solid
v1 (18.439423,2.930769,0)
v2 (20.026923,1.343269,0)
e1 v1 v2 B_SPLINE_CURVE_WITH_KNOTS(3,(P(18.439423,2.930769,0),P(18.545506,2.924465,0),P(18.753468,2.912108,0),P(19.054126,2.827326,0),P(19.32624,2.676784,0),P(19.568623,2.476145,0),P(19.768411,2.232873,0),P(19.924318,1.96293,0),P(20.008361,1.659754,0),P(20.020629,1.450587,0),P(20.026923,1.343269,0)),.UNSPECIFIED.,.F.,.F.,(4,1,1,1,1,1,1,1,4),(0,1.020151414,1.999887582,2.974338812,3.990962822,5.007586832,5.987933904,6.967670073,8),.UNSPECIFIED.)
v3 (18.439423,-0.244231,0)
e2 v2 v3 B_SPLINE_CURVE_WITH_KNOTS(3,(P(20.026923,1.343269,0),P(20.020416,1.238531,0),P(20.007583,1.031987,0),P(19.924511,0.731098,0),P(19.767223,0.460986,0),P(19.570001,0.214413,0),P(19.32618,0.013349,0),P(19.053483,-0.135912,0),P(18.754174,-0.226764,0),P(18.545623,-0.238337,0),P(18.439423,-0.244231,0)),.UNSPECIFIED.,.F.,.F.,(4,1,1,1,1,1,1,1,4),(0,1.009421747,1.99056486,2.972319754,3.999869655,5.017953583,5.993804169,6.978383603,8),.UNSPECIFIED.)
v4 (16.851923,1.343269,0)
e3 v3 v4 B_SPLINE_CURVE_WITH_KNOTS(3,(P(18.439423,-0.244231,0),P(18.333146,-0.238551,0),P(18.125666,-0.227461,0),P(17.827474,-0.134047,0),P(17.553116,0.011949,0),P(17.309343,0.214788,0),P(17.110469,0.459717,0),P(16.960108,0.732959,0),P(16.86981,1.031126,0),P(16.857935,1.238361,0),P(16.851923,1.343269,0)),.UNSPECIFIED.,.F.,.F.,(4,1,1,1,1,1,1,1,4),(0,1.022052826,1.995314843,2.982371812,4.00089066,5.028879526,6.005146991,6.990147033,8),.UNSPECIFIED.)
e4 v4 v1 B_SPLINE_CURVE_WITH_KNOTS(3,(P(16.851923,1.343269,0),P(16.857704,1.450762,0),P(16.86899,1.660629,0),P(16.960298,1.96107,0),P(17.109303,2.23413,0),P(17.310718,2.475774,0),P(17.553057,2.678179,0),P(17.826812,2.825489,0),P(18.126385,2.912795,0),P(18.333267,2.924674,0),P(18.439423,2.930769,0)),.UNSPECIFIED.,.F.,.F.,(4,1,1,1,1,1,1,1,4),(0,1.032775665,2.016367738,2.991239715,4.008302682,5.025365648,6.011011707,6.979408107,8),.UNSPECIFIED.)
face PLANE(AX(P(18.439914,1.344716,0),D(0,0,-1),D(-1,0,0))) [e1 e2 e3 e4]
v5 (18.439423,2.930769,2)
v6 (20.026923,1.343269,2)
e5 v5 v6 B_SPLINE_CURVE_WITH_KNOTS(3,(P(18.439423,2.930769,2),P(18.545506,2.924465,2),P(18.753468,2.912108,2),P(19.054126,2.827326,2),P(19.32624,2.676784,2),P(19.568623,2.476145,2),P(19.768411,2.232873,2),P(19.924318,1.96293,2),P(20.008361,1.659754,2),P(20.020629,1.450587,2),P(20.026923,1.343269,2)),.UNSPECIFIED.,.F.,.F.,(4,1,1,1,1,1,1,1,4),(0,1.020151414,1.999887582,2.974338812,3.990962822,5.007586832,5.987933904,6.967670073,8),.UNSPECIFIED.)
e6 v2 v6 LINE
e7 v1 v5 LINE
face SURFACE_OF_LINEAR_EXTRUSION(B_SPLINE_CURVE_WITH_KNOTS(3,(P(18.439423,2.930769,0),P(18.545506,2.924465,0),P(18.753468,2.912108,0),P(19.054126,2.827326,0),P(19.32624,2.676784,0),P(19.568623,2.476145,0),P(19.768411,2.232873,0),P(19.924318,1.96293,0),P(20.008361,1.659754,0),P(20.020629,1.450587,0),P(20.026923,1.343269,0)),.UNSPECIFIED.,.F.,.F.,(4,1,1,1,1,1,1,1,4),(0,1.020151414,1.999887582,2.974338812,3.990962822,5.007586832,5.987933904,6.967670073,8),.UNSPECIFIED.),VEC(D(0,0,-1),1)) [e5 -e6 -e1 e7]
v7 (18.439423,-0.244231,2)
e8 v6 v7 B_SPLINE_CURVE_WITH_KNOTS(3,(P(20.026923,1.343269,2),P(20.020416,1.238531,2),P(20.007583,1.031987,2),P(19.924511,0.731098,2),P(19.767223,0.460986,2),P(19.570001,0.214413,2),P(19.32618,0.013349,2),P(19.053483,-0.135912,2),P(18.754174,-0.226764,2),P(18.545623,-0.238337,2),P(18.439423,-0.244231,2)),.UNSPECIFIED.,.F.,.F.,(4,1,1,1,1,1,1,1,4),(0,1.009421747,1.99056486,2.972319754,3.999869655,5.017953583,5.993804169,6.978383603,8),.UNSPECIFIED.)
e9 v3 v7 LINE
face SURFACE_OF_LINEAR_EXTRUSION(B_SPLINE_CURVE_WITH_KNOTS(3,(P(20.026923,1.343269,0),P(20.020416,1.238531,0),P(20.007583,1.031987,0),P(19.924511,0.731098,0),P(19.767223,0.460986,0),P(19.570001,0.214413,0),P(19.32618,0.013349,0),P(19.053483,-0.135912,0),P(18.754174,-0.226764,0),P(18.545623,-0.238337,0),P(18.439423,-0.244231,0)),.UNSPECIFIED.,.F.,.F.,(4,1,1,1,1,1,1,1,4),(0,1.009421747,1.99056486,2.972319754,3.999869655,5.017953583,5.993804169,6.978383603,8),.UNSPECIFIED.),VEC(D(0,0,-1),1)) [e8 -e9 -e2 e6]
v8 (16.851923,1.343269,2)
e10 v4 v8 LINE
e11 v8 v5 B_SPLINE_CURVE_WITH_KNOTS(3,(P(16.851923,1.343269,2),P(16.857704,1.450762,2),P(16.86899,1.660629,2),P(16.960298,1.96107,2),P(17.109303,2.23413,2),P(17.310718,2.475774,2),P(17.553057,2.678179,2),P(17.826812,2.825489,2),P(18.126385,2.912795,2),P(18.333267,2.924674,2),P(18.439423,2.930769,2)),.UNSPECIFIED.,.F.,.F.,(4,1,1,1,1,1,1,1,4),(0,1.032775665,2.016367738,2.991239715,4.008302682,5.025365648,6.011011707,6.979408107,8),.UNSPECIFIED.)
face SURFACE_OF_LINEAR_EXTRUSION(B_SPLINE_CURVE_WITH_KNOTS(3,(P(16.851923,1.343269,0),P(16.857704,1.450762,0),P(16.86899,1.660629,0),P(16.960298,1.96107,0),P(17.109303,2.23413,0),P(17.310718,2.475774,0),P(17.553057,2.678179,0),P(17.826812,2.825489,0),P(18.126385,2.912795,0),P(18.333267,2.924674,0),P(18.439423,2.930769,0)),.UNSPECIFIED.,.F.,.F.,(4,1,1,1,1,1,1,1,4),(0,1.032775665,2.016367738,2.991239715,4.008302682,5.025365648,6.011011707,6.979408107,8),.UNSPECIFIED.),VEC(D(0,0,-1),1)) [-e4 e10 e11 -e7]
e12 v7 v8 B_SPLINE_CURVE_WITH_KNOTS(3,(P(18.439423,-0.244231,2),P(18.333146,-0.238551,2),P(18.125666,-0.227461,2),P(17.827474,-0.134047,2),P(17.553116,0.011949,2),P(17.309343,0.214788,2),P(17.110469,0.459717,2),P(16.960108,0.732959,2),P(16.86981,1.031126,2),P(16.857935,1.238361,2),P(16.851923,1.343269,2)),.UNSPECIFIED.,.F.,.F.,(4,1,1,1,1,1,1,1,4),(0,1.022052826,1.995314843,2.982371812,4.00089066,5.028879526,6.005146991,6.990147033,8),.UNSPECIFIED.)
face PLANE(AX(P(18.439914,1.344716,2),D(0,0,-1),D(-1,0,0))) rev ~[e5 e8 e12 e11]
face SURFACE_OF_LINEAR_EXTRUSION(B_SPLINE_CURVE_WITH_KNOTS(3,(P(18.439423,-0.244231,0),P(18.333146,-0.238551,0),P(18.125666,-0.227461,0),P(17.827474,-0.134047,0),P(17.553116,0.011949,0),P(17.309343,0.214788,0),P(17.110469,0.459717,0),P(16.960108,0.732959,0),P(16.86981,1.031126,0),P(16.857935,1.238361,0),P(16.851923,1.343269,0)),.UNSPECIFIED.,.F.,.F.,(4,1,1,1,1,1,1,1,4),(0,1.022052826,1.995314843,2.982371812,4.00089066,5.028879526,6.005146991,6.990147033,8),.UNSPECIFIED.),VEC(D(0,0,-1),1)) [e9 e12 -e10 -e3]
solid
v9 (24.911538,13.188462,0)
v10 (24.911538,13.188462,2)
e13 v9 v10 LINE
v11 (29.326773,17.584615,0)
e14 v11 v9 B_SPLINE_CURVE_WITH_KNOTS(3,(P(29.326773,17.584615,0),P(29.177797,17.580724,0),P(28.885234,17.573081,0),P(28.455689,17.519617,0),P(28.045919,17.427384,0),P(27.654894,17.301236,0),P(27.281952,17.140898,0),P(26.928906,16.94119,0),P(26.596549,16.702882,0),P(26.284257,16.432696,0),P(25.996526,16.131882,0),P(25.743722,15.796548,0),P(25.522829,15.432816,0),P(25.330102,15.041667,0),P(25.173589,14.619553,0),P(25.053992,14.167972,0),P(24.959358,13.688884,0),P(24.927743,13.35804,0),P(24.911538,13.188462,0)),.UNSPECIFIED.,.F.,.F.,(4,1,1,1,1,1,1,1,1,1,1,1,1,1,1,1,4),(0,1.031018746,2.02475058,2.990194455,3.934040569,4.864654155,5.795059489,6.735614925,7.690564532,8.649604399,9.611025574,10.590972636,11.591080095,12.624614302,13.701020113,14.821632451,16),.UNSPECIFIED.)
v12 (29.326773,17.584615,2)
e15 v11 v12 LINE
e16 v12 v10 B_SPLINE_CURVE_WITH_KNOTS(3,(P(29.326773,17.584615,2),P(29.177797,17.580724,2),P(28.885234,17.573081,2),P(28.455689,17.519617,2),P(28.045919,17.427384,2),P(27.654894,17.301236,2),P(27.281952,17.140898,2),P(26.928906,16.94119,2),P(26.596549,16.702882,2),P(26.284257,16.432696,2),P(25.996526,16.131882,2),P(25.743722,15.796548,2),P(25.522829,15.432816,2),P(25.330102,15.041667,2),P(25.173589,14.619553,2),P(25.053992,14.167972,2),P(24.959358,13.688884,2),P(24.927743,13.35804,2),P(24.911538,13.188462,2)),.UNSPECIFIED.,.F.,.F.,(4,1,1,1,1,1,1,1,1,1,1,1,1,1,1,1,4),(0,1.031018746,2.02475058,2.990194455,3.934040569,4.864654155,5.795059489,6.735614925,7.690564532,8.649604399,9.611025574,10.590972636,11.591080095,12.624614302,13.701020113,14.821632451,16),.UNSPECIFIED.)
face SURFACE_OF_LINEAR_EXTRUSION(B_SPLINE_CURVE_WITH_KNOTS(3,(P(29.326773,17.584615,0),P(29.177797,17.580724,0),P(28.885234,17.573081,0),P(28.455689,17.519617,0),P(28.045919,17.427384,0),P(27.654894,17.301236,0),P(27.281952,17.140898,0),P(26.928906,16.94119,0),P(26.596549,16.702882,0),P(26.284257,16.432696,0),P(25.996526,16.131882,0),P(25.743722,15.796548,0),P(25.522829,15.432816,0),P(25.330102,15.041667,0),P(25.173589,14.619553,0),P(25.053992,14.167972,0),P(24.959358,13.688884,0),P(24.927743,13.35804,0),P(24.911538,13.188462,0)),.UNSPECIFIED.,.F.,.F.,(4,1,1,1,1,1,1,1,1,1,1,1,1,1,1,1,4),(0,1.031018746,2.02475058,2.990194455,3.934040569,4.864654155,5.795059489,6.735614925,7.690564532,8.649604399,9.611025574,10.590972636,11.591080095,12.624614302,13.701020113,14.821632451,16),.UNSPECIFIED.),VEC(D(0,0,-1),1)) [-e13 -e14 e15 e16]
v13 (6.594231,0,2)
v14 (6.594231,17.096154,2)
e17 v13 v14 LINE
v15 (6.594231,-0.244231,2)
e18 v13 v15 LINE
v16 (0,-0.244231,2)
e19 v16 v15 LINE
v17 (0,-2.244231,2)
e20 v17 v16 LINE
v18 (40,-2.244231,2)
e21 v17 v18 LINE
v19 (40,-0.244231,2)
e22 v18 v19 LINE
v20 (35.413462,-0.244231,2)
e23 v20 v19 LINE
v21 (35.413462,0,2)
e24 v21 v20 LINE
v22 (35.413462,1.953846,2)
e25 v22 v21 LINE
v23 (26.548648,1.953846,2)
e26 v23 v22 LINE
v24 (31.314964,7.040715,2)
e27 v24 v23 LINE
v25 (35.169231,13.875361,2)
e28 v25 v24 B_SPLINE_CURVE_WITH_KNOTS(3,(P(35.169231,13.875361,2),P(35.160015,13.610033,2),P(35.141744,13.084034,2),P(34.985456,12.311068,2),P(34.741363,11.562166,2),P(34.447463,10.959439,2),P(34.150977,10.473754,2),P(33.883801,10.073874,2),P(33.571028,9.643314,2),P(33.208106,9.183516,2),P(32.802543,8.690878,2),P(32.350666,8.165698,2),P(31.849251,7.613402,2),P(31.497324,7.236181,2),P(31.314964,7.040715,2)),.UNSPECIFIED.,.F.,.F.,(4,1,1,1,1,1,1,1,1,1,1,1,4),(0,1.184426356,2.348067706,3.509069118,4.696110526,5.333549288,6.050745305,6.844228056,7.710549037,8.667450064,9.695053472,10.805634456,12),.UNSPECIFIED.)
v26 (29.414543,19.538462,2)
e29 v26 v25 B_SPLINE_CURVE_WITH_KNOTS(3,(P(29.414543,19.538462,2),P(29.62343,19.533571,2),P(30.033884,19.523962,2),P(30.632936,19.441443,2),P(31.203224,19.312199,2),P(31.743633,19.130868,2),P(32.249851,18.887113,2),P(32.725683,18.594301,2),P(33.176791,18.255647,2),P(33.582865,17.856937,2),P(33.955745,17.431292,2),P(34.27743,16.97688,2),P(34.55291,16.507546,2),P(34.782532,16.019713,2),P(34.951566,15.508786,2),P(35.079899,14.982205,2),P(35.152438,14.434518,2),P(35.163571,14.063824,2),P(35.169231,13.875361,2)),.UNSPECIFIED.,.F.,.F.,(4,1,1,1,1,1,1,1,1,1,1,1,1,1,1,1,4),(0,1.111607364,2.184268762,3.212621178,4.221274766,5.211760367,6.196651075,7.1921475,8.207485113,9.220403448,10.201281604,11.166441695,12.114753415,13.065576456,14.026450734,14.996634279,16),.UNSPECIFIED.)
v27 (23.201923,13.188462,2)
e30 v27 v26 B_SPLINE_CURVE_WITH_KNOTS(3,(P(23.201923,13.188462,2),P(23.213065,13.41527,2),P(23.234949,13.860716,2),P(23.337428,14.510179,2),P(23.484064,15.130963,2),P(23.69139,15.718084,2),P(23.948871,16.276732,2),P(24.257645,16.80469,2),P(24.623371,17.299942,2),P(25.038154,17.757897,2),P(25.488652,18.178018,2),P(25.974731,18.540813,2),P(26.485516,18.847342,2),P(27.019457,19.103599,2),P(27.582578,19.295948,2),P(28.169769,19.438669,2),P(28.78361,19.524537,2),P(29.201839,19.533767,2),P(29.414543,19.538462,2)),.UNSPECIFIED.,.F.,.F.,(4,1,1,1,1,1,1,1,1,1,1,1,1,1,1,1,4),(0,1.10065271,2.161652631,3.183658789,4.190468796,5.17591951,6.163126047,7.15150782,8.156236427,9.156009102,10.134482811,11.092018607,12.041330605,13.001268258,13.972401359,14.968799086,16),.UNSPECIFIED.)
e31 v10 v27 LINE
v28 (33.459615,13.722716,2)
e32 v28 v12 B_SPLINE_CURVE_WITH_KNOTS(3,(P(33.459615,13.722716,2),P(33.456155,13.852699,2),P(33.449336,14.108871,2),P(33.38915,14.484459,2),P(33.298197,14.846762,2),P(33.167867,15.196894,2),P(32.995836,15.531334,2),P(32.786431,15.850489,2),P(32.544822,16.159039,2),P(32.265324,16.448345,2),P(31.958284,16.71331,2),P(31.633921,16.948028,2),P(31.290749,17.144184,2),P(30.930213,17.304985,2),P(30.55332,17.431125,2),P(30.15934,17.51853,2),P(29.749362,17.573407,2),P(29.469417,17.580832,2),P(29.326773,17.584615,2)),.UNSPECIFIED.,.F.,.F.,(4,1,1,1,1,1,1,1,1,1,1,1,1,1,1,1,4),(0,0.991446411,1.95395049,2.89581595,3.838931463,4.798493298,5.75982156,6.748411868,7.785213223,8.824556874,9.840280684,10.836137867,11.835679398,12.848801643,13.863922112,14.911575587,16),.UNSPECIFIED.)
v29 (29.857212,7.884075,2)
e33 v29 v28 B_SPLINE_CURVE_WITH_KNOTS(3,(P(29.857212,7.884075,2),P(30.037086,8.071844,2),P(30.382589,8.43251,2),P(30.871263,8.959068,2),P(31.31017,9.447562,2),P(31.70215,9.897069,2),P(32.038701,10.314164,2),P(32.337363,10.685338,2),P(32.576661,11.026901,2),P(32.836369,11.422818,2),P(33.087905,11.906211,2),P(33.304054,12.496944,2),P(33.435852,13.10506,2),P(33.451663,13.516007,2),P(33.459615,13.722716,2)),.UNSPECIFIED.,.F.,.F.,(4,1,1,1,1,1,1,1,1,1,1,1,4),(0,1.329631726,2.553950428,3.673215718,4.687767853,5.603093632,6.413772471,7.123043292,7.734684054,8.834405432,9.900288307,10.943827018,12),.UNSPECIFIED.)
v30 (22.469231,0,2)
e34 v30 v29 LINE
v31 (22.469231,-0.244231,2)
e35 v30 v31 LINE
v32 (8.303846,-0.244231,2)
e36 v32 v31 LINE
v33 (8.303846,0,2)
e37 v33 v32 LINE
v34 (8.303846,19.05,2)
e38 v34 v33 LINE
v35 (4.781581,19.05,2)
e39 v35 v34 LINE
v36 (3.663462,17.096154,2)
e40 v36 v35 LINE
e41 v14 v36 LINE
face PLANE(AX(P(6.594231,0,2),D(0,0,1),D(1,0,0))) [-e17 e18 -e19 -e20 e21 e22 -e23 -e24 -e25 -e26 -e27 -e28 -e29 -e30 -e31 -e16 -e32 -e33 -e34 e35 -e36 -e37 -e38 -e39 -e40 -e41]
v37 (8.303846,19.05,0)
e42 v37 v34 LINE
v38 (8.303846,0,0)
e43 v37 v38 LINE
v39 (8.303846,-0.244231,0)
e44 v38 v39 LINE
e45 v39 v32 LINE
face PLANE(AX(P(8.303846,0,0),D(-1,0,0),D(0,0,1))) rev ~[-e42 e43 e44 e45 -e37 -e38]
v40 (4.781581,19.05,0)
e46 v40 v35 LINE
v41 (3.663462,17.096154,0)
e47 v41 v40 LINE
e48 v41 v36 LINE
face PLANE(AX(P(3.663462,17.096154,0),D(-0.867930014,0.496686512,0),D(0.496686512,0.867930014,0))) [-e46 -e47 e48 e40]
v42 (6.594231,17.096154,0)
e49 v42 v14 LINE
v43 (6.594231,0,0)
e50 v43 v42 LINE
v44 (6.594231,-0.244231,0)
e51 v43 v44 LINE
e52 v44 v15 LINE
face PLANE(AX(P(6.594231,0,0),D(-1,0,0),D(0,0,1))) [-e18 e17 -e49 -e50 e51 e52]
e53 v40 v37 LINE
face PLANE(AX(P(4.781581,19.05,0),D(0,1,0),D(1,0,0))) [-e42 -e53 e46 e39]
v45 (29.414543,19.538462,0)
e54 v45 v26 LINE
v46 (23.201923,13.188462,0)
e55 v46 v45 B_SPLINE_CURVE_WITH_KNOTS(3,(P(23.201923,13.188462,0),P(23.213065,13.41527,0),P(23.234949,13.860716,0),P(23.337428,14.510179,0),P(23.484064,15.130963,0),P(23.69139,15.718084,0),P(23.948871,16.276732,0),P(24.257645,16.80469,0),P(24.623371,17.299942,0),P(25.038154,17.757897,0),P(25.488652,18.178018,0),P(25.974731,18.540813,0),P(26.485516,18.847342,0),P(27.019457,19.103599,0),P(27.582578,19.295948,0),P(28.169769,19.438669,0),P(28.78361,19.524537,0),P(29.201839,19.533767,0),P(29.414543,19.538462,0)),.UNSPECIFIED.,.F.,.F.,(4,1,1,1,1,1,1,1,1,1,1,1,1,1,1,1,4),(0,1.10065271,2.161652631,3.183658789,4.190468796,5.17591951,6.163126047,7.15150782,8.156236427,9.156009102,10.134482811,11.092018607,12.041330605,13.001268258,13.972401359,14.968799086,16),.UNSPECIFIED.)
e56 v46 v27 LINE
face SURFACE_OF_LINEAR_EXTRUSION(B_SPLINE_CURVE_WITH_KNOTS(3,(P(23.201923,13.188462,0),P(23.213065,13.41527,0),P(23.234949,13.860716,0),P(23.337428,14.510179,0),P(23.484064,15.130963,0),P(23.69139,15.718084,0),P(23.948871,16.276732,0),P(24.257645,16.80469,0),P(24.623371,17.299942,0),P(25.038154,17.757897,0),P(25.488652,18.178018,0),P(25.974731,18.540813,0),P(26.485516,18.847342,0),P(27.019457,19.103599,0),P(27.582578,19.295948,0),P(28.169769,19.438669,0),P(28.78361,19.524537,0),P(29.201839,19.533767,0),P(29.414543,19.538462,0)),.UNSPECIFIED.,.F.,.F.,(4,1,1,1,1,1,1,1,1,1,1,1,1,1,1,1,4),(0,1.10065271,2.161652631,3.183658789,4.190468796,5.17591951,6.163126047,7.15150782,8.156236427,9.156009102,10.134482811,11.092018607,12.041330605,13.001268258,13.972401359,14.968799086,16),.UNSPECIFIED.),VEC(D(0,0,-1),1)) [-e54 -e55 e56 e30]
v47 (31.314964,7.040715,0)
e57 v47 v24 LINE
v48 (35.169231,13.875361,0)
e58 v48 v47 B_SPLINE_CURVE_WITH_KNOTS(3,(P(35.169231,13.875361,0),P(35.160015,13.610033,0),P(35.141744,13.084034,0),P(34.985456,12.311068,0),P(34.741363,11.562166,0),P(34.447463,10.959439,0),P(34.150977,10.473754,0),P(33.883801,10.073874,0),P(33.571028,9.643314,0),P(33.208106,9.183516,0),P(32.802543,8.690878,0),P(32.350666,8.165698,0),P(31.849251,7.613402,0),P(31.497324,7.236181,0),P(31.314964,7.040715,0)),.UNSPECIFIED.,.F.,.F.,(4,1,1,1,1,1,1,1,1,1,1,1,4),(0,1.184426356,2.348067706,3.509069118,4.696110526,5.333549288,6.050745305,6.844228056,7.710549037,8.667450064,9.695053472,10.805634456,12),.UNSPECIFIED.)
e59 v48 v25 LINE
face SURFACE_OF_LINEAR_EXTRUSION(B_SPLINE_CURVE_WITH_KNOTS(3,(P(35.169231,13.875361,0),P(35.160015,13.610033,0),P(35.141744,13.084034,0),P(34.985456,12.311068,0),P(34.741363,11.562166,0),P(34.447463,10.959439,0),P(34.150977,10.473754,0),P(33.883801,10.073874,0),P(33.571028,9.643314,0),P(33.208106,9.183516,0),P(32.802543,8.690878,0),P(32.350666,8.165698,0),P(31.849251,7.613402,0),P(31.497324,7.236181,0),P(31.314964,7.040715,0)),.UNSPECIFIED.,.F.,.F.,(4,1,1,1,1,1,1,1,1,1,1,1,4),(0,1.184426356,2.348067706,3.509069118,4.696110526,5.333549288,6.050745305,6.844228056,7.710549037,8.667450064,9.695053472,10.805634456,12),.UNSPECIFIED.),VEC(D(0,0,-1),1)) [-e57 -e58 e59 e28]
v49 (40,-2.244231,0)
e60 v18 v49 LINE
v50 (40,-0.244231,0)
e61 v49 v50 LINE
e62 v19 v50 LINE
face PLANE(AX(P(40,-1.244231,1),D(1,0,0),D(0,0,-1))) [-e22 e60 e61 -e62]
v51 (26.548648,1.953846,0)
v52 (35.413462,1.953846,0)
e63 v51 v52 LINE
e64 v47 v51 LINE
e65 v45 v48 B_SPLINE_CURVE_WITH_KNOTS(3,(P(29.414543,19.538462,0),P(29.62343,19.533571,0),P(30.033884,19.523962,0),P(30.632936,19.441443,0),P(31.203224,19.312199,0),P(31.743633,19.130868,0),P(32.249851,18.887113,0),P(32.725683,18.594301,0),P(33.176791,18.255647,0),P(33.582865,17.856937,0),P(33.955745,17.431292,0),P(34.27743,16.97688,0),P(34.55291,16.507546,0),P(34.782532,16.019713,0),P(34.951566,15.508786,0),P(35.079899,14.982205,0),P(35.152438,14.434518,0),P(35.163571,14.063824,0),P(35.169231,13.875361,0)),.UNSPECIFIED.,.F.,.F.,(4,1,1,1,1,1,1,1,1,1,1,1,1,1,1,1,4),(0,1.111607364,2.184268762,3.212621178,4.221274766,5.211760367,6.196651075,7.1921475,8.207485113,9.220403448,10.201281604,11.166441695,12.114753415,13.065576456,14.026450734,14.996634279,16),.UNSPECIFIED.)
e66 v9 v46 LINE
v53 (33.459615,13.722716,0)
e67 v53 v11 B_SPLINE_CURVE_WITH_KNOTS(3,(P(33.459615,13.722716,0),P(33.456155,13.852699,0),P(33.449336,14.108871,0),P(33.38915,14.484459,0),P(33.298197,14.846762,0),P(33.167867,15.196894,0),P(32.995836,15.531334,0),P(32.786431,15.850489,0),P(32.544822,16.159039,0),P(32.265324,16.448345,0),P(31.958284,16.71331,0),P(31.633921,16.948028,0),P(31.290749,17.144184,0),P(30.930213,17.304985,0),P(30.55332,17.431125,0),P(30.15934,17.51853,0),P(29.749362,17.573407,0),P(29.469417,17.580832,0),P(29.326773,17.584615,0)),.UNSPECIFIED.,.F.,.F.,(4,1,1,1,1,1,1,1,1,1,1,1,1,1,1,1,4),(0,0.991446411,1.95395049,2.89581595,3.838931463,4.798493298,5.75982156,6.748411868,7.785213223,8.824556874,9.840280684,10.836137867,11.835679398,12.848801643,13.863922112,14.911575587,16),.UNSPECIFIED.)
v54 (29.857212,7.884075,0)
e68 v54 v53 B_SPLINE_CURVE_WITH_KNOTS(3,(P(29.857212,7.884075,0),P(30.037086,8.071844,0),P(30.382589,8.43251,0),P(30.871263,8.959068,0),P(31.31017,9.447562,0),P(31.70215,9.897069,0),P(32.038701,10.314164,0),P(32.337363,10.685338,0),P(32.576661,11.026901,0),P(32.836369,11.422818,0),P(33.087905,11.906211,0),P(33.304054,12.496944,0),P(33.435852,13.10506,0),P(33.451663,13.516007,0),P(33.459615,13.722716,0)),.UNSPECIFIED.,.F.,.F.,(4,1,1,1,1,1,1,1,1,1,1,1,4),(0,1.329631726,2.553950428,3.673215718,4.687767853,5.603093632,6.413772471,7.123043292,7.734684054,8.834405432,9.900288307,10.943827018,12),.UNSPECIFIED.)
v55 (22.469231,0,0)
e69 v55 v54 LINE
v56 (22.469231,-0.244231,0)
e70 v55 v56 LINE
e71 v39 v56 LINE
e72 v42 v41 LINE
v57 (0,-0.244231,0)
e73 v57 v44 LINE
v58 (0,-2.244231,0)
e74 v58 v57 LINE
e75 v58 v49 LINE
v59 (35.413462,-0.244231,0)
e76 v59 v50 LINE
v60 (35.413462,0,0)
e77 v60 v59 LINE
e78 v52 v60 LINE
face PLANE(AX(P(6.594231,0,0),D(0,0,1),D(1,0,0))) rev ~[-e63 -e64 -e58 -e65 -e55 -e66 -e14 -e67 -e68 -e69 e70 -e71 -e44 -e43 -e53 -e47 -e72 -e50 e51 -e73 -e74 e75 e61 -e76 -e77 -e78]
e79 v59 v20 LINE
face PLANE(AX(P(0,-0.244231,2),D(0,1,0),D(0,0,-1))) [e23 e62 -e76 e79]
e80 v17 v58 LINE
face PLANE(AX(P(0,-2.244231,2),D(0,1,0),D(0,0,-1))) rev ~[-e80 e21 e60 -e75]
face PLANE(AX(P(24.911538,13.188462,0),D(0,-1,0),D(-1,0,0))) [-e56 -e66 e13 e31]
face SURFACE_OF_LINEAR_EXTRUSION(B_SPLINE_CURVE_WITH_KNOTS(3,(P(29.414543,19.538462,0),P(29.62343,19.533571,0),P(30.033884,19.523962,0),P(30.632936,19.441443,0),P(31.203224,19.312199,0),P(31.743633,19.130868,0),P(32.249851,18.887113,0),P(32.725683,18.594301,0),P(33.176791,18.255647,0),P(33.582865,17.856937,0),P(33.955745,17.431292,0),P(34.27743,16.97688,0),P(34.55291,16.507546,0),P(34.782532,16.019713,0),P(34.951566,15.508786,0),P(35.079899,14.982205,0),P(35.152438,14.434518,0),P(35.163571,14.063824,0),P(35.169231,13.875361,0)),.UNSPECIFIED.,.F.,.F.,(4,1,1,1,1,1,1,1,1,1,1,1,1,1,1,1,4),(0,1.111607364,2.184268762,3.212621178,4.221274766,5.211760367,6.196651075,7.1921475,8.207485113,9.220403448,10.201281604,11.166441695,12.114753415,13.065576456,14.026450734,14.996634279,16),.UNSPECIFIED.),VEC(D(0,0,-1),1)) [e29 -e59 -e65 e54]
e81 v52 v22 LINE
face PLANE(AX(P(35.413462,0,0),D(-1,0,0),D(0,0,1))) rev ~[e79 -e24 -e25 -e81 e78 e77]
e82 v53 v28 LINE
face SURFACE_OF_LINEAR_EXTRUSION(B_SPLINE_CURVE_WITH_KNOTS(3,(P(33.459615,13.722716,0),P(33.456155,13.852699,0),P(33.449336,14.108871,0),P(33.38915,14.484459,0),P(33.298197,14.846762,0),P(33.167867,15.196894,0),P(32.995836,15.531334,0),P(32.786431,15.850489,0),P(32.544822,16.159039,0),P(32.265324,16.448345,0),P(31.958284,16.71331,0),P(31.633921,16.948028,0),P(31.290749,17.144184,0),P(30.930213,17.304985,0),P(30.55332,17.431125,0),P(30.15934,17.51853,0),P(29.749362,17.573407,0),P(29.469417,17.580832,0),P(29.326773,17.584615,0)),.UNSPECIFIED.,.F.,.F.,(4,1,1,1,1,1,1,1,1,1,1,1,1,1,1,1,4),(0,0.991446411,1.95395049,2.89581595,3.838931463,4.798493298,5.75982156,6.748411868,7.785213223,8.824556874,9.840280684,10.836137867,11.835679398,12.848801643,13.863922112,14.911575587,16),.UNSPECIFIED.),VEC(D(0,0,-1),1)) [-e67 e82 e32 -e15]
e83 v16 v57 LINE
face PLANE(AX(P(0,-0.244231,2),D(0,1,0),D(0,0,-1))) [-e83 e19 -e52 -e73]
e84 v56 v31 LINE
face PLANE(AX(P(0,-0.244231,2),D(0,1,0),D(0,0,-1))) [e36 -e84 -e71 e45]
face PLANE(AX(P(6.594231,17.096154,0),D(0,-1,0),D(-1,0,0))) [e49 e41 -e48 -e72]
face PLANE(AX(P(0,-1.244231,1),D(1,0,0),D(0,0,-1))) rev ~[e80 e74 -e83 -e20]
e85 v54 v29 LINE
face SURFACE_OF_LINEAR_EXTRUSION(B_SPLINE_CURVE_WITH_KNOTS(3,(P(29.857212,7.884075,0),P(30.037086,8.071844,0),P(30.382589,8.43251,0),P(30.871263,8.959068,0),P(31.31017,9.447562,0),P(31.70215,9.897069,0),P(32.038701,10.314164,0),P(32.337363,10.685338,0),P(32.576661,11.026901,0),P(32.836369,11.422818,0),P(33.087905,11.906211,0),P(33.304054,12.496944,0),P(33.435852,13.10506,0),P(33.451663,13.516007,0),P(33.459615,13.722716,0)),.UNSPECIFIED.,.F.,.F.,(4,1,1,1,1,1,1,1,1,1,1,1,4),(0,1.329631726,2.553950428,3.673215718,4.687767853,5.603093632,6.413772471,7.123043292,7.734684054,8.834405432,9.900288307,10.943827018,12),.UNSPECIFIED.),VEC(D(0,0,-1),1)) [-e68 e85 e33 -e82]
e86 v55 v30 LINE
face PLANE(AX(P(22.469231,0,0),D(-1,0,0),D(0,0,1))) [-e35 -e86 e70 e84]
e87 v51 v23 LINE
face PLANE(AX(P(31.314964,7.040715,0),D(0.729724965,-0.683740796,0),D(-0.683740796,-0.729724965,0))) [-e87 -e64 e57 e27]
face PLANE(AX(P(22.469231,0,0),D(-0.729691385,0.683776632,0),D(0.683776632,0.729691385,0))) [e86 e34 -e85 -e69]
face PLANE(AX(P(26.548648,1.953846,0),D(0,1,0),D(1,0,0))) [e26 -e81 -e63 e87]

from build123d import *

# Parameters (mm, degrees)
RESSALTO_EXTRUS_O1_DEPTH   = 2
RESSALTO_EXTRUS_O1_2_DEPTH = 2
RESSALTO_EXTRUS_O1_3_DEPTH = 2
ESBO_O2_W                  = 2
ESBO_O2_H                  = 2
RESSALTO_EXTRUS_O2_DEPTH   = 40
ESBO_O3_W                  = 1.709615385
ESBO_O3_H                  = 2
ESBO_O3_W_2                = 12.944230769
RESSALTO_EXTRUS_O3_DEPTH   = 0.244230769


with BuildPart() as part:
    # Esboço1 → Ressalto-extrusão1 (new body)
    with BuildSketch(Plane.XY):
        Polygon((4.781580529, 19.05), (8.303846154, 19.05), (8.303846154, 0), (6.594230769, 0), (6.594230769, 17.096153846), (3.663461538, 17.096153846), align=None)
    extrude(amount=RESSALTO_EXTRUS_O1_DEPTH)



with BuildPart() as body_2:
    # Esboço1 → Ressalto-extrus_o1 2 (new body)
    with BuildSketch(Plane.XY):
        with BuildLine():
            add(Edge.make_bspline(
                [(18.439423077, 2.930769231), (18.545505517, 2.924465495), (18.75346774, 2.912107758), (19.054126424, 2.827326148), (19.326240215, 2.67678401), (19.568622862, 2.476145174), (19.76841097, 2.232873064), (19.924318086, 1.962929618), (20.008361163, 1.659753807), (20.020628883, 1.450586576), (20.026923077, 1.343269231)],
                knots=[0, 0, 0, 0, 1.020151414, 1.999887582, 2.974338812, 3.990962822, 5.007586832, 5.987933904, 6.967670073, 8, 8, 8, 8], degree=3))
            add(Edge.make_bspline(
                [(20.026923077, 1.343269231), (20.020415593, 1.238530536), (20.00758293, 1.031987368), (19.924510734, 0.731098264), (19.767222775, 0.460986113), (19.570000885, 0.214413047), (19.326180297, 0.013349165), (19.053483104, -0.135912183), (18.754173542, -0.226764245), (18.545623268, -0.238337376), (18.439423077, -0.244230769)],
                knots=[0, 0, 0, 0, 1.009421747, 1.99056486, 2.972319754, 3.999869655, 5.017953583, 5.993804169, 6.978383603, 8, 8, 8, 8], degree=3))
            add(Edge.make_bspline(
                [(18.439423077, -0.244230769), (18.333146362, -0.238550619), (18.125666375, -0.227461478), (17.827474035, -0.134046775), (17.553116106, 0.011949487), (17.309342989, 0.214787952), (17.110469308, 0.459717304), (16.960108296, 0.73295851), (16.869810485, 1.031126048), (16.857934864, 1.23836089), (16.851923077, 1.343269231)],
                knots=[0, 0, 0, 0, 1.022052826, 1.995314843, 2.982371812, 4.00089066, 5.028879526, 6.005146991, 6.990147033, 8, 8, 8, 8], degree=3))
            add(Edge.make_bspline(
                [(16.851923077, 1.343269231), (16.857703931, 1.450762283), (16.86899034, 1.660629275), (16.960297863, 1.961070131), (17.109302673, 2.234129779), (17.310717752, 2.475774022), (17.553057134, 2.678179198), (17.826812193, 2.825489001), (18.126384548, 2.912794673), (18.333267213, 2.9246738), (18.439423077, 2.930769231)],
                knots=[0, 0, 0, 0, 1.032775665, 2.016367738, 2.991239715, 4.008302682, 5.025365648, 6.011011707, 6.979408107, 8, 8, 8, 8], degree=3))
        make_face()
    extrude(amount=RESSALTO_EXTRUS_O1_2_DEPTH)


with BuildPart() as body_3:
    # Esboço1 → Ressalto-extrus_o1 3 (new body)
    with BuildSketch(Plane.XY):
        with BuildLine():
            Line((24.911538462, 13.188461538), (23.201923077, 13.188461538))
            add(Edge.make_bspline(
                [(23.201923077, 13.188461538), (23.213065438, 13.415270228), (23.234948739, 13.860716457), (23.337428428, 14.510179433), (23.484063774, 15.130963409), (23.691390117, 15.718083941), (23.948871429, 16.276732306), (24.257644863, 16.804689534), (24.623371393, 17.299941576), (25.038153759, 17.75789728), (25.488651638, 18.178018201), (25.974731108, 18.540813165), (26.485516185, 18.847342205), (27.0194572, 19.103598679), (27.582578267, 19.295948411), (28.16976925, 19.43866905), (28.783609978, 19.524537446), (29.201839241, 19.533767365), (29.414543269, 19.538461538)],
                knots=[0, 0, 0, 0, 1.10065271, 2.161652631, 3.183658789, 4.190468796, 5.17591951, 6.163126047, 7.15150782, 8.156236427, 9.156009102, 10.134482811, 11.092018607, 12.041330605, 13.001268258, 13.972401359, 14.968799086, 16, 16, 16, 16], degree=3))
            add(Edge.make_bspline(
                [(29.414543269, 19.538461538), (29.623429644, 19.533571368), (30.033883908, 19.523962359), (30.63293573, 19.441443042), (31.203223575, 19.312199179), (31.743632705, 19.130868128), (32.249851428, 18.887112887), (32.72568257, 18.59430057), (33.176790983, 18.255646916), (33.582865048, 17.856936874), (33.955744737, 17.431292467), (34.277429868, 16.976879735), (34.552910087, 16.507546051), (34.782531601, 16.019712554), (34.951565729, 15.508785956), (35.079898547, 14.982204753), (35.152437756, 14.434518281), (35.163570704, 14.063824029), (35.169230769, 13.875360577)],
                knots=[0, 0, 0, 0, 1.111607364, 2.184268762, 3.212621178, 4.221274766, 5.211760367, 6.196651075, 7.1921475, 8.207485113, 9.220403448, 10.201281604, 11.166441695, 12.114753415, 13.065576456, 14.026450734, 14.996634279, 16, 16, 16, 16], degree=3))
            add(Edge.make_bspline(
                [(35.169230769, 13.875360577), (35.160014581, 13.610033077), (35.141743937, 13.0840342), (34.985455687, 12.31106759), (34.741362534, 11.562166266), (34.447462635, 10.95943895), (34.150976903, 10.473753792), (33.883800612, 10.073874126), (33.571027855, 9.643314363), (33.208106316, 9.183516283), (32.802543397, 8.690878357), (32.350665623, 8.165698185), (31.84925067, 7.613401838), (31.497323688, 7.23618135), (31.314963942, 7.040715144)],
                knots=[0, 0, 0, 0, 1.184426356, 2.348067706, 3.509069118, 4.696110526, 5.333549288, 6.050745305, 6.844228056, 7.710549037, 8.667450064, 9.695053472, 10.805634456, 12, 12, 12, 12], degree=3))
            Line((31.314963942, 7.040715144), (26.548647837, 1.953846154))
            Line((26.548647837, 1.953846154), (35.413461538, 1.953846154))
            Line((35.413461538, 1.953846154), (35.413461538, 0))
            Line((35.413461538, 0), (22.469230769, 0))
            Line((22.469230769, 0), (29.857211538, 7.884074519))
            add(Edge.make_bspline(
                [(29.857211538, 7.884074519), (30.037086465, 8.071843873), (30.382589387, 8.432510375), (30.871263127, 8.959068486), (31.31016962, 9.447562415), (31.702150001, 9.8970692), (32.038700937, 10.314163877), (32.337362657, 10.685337906), (32.576661088, 11.026901414), (32.83636917, 11.422818184), (33.087905269, 11.906210939), (33.304053949, 12.496944305), (33.43585191, 13.10505978), (33.451662515, 13.516006582), (33.459615385, 13.722716346)],
                knots=[0, 0, 0, 0, 1.329631726, 2.553950428, 3.673215718, 4.687767853, 5.603093632, 6.413772471, 7.123043292, 7.734684054, 8.834405432, 9.900288307, 10.943827018, 12, 12, 12, 12], degree=3))
            add(Edge.make_bspline(
                [(33.459615385, 13.722716346), (33.45615513, 13.852699386), (33.449335633, 14.108870997), (33.389150165, 14.484459486), (33.298197268, 14.846762258), (33.167866649, 15.196893742), (32.995835678, 15.531333648), (32.786430567, 15.850489076), (32.544821793, 16.159039015), (32.26532417, 16.448344823), (31.958284327, 16.71330967), (31.63392134, 16.948027907), (31.290748629, 17.144183638), (30.930213107, 17.304984673), (30.55331991, 17.431124962), (30.159340083, 17.518529516), (29.749362222, 17.573407036), (29.469417053, 17.580832028), (29.326772837, 17.584615385)],
                knots=[0, 0, 0, 0, 0.991446411, 1.95395049, 2.89581595, 3.838931463, 4.798493298, 5.75982156, 6.748411868, 7.785213223, 8.824556874, 9.840280684, 10.836137867, 11.835679398, 12.848801643, 13.863922112, 14.911575587, 16, 16, 16, 16], degree=3))
            add(Edge.make_bspline(
                [(29.326772837, 17.584615385), (29.177797304, 17.580723566), (28.885233956, 17.573080677), (28.455688934, 17.51961732), (28.045919202, 17.427383532), (27.654893987, 17.301236204), (27.28195167, 17.140897531), (26.928905945, 16.941189607), (26.596549362, 16.702882308), (26.284257142, 16.432695852), (25.996526056, 16.131882194), (25.743722346, 15.796547966), (25.522829355, 15.432815891), (25.330101955, 15.041667409), (25.173588842, 14.619553263), (25.053992123, 14.167971898), (24.959358, 13.688884094), (24.927743052, 13.35803956), (24.911538462, 13.188461538)],
                knots=[0, 0, 0, 0, 1.031018746, 2.02475058, 2.990194455, 3.934040569, 4.864654155, 5.795059489, 6.735614925, 7.690564532, 8.649604399, 9.611025574, 10.590972636, 11.591080095, 12.624614302, 13.701020113, 14.821632451, 16, 16, 16, 16], degree=3))
        make_face()
    extrude(amount=RESSALTO_EXTRUS_O1_3_DEPTH)


with BuildPart() as body_4:
    # Esboço2 → Ressalto-extrusão2 (new body)
    with BuildSketch(Plane(origin=(0, 0, 0), x_dir=(0, 0, -1), z_dir=(1, 0, 0))):
        with Locations((-1, -1.244230769)):
            Rectangle(ESBO_O2_W, ESBO_O2_H)
    extrude(amount=RESSALTO_EXTRUS_O2_DEPTH)


with BuildPart() as part_1:
    add(part.part)

    add(body_3.part)  # Ressalto-extrusão3 merges body 3

    add(body_4.part)  # Ressalto-extrusão3 merges body 4
    # Esboço3 → Ressalto-extrusão3 (add)
    with BuildSketch(Plane.XZ):
        with Locations((7.449038462, 1)):
            Rectangle(ESBO_O3_W, ESBO_O3_H)
        with Locations((28.941346153, 1)):
            Rectangle(ESBO_O3_W_2, ESBO_O3_H)
    extrude(amount=RESSALTO_EXTRUS_O3_DEPTH)


solid = Compound([body_2.part, part_1.part])
